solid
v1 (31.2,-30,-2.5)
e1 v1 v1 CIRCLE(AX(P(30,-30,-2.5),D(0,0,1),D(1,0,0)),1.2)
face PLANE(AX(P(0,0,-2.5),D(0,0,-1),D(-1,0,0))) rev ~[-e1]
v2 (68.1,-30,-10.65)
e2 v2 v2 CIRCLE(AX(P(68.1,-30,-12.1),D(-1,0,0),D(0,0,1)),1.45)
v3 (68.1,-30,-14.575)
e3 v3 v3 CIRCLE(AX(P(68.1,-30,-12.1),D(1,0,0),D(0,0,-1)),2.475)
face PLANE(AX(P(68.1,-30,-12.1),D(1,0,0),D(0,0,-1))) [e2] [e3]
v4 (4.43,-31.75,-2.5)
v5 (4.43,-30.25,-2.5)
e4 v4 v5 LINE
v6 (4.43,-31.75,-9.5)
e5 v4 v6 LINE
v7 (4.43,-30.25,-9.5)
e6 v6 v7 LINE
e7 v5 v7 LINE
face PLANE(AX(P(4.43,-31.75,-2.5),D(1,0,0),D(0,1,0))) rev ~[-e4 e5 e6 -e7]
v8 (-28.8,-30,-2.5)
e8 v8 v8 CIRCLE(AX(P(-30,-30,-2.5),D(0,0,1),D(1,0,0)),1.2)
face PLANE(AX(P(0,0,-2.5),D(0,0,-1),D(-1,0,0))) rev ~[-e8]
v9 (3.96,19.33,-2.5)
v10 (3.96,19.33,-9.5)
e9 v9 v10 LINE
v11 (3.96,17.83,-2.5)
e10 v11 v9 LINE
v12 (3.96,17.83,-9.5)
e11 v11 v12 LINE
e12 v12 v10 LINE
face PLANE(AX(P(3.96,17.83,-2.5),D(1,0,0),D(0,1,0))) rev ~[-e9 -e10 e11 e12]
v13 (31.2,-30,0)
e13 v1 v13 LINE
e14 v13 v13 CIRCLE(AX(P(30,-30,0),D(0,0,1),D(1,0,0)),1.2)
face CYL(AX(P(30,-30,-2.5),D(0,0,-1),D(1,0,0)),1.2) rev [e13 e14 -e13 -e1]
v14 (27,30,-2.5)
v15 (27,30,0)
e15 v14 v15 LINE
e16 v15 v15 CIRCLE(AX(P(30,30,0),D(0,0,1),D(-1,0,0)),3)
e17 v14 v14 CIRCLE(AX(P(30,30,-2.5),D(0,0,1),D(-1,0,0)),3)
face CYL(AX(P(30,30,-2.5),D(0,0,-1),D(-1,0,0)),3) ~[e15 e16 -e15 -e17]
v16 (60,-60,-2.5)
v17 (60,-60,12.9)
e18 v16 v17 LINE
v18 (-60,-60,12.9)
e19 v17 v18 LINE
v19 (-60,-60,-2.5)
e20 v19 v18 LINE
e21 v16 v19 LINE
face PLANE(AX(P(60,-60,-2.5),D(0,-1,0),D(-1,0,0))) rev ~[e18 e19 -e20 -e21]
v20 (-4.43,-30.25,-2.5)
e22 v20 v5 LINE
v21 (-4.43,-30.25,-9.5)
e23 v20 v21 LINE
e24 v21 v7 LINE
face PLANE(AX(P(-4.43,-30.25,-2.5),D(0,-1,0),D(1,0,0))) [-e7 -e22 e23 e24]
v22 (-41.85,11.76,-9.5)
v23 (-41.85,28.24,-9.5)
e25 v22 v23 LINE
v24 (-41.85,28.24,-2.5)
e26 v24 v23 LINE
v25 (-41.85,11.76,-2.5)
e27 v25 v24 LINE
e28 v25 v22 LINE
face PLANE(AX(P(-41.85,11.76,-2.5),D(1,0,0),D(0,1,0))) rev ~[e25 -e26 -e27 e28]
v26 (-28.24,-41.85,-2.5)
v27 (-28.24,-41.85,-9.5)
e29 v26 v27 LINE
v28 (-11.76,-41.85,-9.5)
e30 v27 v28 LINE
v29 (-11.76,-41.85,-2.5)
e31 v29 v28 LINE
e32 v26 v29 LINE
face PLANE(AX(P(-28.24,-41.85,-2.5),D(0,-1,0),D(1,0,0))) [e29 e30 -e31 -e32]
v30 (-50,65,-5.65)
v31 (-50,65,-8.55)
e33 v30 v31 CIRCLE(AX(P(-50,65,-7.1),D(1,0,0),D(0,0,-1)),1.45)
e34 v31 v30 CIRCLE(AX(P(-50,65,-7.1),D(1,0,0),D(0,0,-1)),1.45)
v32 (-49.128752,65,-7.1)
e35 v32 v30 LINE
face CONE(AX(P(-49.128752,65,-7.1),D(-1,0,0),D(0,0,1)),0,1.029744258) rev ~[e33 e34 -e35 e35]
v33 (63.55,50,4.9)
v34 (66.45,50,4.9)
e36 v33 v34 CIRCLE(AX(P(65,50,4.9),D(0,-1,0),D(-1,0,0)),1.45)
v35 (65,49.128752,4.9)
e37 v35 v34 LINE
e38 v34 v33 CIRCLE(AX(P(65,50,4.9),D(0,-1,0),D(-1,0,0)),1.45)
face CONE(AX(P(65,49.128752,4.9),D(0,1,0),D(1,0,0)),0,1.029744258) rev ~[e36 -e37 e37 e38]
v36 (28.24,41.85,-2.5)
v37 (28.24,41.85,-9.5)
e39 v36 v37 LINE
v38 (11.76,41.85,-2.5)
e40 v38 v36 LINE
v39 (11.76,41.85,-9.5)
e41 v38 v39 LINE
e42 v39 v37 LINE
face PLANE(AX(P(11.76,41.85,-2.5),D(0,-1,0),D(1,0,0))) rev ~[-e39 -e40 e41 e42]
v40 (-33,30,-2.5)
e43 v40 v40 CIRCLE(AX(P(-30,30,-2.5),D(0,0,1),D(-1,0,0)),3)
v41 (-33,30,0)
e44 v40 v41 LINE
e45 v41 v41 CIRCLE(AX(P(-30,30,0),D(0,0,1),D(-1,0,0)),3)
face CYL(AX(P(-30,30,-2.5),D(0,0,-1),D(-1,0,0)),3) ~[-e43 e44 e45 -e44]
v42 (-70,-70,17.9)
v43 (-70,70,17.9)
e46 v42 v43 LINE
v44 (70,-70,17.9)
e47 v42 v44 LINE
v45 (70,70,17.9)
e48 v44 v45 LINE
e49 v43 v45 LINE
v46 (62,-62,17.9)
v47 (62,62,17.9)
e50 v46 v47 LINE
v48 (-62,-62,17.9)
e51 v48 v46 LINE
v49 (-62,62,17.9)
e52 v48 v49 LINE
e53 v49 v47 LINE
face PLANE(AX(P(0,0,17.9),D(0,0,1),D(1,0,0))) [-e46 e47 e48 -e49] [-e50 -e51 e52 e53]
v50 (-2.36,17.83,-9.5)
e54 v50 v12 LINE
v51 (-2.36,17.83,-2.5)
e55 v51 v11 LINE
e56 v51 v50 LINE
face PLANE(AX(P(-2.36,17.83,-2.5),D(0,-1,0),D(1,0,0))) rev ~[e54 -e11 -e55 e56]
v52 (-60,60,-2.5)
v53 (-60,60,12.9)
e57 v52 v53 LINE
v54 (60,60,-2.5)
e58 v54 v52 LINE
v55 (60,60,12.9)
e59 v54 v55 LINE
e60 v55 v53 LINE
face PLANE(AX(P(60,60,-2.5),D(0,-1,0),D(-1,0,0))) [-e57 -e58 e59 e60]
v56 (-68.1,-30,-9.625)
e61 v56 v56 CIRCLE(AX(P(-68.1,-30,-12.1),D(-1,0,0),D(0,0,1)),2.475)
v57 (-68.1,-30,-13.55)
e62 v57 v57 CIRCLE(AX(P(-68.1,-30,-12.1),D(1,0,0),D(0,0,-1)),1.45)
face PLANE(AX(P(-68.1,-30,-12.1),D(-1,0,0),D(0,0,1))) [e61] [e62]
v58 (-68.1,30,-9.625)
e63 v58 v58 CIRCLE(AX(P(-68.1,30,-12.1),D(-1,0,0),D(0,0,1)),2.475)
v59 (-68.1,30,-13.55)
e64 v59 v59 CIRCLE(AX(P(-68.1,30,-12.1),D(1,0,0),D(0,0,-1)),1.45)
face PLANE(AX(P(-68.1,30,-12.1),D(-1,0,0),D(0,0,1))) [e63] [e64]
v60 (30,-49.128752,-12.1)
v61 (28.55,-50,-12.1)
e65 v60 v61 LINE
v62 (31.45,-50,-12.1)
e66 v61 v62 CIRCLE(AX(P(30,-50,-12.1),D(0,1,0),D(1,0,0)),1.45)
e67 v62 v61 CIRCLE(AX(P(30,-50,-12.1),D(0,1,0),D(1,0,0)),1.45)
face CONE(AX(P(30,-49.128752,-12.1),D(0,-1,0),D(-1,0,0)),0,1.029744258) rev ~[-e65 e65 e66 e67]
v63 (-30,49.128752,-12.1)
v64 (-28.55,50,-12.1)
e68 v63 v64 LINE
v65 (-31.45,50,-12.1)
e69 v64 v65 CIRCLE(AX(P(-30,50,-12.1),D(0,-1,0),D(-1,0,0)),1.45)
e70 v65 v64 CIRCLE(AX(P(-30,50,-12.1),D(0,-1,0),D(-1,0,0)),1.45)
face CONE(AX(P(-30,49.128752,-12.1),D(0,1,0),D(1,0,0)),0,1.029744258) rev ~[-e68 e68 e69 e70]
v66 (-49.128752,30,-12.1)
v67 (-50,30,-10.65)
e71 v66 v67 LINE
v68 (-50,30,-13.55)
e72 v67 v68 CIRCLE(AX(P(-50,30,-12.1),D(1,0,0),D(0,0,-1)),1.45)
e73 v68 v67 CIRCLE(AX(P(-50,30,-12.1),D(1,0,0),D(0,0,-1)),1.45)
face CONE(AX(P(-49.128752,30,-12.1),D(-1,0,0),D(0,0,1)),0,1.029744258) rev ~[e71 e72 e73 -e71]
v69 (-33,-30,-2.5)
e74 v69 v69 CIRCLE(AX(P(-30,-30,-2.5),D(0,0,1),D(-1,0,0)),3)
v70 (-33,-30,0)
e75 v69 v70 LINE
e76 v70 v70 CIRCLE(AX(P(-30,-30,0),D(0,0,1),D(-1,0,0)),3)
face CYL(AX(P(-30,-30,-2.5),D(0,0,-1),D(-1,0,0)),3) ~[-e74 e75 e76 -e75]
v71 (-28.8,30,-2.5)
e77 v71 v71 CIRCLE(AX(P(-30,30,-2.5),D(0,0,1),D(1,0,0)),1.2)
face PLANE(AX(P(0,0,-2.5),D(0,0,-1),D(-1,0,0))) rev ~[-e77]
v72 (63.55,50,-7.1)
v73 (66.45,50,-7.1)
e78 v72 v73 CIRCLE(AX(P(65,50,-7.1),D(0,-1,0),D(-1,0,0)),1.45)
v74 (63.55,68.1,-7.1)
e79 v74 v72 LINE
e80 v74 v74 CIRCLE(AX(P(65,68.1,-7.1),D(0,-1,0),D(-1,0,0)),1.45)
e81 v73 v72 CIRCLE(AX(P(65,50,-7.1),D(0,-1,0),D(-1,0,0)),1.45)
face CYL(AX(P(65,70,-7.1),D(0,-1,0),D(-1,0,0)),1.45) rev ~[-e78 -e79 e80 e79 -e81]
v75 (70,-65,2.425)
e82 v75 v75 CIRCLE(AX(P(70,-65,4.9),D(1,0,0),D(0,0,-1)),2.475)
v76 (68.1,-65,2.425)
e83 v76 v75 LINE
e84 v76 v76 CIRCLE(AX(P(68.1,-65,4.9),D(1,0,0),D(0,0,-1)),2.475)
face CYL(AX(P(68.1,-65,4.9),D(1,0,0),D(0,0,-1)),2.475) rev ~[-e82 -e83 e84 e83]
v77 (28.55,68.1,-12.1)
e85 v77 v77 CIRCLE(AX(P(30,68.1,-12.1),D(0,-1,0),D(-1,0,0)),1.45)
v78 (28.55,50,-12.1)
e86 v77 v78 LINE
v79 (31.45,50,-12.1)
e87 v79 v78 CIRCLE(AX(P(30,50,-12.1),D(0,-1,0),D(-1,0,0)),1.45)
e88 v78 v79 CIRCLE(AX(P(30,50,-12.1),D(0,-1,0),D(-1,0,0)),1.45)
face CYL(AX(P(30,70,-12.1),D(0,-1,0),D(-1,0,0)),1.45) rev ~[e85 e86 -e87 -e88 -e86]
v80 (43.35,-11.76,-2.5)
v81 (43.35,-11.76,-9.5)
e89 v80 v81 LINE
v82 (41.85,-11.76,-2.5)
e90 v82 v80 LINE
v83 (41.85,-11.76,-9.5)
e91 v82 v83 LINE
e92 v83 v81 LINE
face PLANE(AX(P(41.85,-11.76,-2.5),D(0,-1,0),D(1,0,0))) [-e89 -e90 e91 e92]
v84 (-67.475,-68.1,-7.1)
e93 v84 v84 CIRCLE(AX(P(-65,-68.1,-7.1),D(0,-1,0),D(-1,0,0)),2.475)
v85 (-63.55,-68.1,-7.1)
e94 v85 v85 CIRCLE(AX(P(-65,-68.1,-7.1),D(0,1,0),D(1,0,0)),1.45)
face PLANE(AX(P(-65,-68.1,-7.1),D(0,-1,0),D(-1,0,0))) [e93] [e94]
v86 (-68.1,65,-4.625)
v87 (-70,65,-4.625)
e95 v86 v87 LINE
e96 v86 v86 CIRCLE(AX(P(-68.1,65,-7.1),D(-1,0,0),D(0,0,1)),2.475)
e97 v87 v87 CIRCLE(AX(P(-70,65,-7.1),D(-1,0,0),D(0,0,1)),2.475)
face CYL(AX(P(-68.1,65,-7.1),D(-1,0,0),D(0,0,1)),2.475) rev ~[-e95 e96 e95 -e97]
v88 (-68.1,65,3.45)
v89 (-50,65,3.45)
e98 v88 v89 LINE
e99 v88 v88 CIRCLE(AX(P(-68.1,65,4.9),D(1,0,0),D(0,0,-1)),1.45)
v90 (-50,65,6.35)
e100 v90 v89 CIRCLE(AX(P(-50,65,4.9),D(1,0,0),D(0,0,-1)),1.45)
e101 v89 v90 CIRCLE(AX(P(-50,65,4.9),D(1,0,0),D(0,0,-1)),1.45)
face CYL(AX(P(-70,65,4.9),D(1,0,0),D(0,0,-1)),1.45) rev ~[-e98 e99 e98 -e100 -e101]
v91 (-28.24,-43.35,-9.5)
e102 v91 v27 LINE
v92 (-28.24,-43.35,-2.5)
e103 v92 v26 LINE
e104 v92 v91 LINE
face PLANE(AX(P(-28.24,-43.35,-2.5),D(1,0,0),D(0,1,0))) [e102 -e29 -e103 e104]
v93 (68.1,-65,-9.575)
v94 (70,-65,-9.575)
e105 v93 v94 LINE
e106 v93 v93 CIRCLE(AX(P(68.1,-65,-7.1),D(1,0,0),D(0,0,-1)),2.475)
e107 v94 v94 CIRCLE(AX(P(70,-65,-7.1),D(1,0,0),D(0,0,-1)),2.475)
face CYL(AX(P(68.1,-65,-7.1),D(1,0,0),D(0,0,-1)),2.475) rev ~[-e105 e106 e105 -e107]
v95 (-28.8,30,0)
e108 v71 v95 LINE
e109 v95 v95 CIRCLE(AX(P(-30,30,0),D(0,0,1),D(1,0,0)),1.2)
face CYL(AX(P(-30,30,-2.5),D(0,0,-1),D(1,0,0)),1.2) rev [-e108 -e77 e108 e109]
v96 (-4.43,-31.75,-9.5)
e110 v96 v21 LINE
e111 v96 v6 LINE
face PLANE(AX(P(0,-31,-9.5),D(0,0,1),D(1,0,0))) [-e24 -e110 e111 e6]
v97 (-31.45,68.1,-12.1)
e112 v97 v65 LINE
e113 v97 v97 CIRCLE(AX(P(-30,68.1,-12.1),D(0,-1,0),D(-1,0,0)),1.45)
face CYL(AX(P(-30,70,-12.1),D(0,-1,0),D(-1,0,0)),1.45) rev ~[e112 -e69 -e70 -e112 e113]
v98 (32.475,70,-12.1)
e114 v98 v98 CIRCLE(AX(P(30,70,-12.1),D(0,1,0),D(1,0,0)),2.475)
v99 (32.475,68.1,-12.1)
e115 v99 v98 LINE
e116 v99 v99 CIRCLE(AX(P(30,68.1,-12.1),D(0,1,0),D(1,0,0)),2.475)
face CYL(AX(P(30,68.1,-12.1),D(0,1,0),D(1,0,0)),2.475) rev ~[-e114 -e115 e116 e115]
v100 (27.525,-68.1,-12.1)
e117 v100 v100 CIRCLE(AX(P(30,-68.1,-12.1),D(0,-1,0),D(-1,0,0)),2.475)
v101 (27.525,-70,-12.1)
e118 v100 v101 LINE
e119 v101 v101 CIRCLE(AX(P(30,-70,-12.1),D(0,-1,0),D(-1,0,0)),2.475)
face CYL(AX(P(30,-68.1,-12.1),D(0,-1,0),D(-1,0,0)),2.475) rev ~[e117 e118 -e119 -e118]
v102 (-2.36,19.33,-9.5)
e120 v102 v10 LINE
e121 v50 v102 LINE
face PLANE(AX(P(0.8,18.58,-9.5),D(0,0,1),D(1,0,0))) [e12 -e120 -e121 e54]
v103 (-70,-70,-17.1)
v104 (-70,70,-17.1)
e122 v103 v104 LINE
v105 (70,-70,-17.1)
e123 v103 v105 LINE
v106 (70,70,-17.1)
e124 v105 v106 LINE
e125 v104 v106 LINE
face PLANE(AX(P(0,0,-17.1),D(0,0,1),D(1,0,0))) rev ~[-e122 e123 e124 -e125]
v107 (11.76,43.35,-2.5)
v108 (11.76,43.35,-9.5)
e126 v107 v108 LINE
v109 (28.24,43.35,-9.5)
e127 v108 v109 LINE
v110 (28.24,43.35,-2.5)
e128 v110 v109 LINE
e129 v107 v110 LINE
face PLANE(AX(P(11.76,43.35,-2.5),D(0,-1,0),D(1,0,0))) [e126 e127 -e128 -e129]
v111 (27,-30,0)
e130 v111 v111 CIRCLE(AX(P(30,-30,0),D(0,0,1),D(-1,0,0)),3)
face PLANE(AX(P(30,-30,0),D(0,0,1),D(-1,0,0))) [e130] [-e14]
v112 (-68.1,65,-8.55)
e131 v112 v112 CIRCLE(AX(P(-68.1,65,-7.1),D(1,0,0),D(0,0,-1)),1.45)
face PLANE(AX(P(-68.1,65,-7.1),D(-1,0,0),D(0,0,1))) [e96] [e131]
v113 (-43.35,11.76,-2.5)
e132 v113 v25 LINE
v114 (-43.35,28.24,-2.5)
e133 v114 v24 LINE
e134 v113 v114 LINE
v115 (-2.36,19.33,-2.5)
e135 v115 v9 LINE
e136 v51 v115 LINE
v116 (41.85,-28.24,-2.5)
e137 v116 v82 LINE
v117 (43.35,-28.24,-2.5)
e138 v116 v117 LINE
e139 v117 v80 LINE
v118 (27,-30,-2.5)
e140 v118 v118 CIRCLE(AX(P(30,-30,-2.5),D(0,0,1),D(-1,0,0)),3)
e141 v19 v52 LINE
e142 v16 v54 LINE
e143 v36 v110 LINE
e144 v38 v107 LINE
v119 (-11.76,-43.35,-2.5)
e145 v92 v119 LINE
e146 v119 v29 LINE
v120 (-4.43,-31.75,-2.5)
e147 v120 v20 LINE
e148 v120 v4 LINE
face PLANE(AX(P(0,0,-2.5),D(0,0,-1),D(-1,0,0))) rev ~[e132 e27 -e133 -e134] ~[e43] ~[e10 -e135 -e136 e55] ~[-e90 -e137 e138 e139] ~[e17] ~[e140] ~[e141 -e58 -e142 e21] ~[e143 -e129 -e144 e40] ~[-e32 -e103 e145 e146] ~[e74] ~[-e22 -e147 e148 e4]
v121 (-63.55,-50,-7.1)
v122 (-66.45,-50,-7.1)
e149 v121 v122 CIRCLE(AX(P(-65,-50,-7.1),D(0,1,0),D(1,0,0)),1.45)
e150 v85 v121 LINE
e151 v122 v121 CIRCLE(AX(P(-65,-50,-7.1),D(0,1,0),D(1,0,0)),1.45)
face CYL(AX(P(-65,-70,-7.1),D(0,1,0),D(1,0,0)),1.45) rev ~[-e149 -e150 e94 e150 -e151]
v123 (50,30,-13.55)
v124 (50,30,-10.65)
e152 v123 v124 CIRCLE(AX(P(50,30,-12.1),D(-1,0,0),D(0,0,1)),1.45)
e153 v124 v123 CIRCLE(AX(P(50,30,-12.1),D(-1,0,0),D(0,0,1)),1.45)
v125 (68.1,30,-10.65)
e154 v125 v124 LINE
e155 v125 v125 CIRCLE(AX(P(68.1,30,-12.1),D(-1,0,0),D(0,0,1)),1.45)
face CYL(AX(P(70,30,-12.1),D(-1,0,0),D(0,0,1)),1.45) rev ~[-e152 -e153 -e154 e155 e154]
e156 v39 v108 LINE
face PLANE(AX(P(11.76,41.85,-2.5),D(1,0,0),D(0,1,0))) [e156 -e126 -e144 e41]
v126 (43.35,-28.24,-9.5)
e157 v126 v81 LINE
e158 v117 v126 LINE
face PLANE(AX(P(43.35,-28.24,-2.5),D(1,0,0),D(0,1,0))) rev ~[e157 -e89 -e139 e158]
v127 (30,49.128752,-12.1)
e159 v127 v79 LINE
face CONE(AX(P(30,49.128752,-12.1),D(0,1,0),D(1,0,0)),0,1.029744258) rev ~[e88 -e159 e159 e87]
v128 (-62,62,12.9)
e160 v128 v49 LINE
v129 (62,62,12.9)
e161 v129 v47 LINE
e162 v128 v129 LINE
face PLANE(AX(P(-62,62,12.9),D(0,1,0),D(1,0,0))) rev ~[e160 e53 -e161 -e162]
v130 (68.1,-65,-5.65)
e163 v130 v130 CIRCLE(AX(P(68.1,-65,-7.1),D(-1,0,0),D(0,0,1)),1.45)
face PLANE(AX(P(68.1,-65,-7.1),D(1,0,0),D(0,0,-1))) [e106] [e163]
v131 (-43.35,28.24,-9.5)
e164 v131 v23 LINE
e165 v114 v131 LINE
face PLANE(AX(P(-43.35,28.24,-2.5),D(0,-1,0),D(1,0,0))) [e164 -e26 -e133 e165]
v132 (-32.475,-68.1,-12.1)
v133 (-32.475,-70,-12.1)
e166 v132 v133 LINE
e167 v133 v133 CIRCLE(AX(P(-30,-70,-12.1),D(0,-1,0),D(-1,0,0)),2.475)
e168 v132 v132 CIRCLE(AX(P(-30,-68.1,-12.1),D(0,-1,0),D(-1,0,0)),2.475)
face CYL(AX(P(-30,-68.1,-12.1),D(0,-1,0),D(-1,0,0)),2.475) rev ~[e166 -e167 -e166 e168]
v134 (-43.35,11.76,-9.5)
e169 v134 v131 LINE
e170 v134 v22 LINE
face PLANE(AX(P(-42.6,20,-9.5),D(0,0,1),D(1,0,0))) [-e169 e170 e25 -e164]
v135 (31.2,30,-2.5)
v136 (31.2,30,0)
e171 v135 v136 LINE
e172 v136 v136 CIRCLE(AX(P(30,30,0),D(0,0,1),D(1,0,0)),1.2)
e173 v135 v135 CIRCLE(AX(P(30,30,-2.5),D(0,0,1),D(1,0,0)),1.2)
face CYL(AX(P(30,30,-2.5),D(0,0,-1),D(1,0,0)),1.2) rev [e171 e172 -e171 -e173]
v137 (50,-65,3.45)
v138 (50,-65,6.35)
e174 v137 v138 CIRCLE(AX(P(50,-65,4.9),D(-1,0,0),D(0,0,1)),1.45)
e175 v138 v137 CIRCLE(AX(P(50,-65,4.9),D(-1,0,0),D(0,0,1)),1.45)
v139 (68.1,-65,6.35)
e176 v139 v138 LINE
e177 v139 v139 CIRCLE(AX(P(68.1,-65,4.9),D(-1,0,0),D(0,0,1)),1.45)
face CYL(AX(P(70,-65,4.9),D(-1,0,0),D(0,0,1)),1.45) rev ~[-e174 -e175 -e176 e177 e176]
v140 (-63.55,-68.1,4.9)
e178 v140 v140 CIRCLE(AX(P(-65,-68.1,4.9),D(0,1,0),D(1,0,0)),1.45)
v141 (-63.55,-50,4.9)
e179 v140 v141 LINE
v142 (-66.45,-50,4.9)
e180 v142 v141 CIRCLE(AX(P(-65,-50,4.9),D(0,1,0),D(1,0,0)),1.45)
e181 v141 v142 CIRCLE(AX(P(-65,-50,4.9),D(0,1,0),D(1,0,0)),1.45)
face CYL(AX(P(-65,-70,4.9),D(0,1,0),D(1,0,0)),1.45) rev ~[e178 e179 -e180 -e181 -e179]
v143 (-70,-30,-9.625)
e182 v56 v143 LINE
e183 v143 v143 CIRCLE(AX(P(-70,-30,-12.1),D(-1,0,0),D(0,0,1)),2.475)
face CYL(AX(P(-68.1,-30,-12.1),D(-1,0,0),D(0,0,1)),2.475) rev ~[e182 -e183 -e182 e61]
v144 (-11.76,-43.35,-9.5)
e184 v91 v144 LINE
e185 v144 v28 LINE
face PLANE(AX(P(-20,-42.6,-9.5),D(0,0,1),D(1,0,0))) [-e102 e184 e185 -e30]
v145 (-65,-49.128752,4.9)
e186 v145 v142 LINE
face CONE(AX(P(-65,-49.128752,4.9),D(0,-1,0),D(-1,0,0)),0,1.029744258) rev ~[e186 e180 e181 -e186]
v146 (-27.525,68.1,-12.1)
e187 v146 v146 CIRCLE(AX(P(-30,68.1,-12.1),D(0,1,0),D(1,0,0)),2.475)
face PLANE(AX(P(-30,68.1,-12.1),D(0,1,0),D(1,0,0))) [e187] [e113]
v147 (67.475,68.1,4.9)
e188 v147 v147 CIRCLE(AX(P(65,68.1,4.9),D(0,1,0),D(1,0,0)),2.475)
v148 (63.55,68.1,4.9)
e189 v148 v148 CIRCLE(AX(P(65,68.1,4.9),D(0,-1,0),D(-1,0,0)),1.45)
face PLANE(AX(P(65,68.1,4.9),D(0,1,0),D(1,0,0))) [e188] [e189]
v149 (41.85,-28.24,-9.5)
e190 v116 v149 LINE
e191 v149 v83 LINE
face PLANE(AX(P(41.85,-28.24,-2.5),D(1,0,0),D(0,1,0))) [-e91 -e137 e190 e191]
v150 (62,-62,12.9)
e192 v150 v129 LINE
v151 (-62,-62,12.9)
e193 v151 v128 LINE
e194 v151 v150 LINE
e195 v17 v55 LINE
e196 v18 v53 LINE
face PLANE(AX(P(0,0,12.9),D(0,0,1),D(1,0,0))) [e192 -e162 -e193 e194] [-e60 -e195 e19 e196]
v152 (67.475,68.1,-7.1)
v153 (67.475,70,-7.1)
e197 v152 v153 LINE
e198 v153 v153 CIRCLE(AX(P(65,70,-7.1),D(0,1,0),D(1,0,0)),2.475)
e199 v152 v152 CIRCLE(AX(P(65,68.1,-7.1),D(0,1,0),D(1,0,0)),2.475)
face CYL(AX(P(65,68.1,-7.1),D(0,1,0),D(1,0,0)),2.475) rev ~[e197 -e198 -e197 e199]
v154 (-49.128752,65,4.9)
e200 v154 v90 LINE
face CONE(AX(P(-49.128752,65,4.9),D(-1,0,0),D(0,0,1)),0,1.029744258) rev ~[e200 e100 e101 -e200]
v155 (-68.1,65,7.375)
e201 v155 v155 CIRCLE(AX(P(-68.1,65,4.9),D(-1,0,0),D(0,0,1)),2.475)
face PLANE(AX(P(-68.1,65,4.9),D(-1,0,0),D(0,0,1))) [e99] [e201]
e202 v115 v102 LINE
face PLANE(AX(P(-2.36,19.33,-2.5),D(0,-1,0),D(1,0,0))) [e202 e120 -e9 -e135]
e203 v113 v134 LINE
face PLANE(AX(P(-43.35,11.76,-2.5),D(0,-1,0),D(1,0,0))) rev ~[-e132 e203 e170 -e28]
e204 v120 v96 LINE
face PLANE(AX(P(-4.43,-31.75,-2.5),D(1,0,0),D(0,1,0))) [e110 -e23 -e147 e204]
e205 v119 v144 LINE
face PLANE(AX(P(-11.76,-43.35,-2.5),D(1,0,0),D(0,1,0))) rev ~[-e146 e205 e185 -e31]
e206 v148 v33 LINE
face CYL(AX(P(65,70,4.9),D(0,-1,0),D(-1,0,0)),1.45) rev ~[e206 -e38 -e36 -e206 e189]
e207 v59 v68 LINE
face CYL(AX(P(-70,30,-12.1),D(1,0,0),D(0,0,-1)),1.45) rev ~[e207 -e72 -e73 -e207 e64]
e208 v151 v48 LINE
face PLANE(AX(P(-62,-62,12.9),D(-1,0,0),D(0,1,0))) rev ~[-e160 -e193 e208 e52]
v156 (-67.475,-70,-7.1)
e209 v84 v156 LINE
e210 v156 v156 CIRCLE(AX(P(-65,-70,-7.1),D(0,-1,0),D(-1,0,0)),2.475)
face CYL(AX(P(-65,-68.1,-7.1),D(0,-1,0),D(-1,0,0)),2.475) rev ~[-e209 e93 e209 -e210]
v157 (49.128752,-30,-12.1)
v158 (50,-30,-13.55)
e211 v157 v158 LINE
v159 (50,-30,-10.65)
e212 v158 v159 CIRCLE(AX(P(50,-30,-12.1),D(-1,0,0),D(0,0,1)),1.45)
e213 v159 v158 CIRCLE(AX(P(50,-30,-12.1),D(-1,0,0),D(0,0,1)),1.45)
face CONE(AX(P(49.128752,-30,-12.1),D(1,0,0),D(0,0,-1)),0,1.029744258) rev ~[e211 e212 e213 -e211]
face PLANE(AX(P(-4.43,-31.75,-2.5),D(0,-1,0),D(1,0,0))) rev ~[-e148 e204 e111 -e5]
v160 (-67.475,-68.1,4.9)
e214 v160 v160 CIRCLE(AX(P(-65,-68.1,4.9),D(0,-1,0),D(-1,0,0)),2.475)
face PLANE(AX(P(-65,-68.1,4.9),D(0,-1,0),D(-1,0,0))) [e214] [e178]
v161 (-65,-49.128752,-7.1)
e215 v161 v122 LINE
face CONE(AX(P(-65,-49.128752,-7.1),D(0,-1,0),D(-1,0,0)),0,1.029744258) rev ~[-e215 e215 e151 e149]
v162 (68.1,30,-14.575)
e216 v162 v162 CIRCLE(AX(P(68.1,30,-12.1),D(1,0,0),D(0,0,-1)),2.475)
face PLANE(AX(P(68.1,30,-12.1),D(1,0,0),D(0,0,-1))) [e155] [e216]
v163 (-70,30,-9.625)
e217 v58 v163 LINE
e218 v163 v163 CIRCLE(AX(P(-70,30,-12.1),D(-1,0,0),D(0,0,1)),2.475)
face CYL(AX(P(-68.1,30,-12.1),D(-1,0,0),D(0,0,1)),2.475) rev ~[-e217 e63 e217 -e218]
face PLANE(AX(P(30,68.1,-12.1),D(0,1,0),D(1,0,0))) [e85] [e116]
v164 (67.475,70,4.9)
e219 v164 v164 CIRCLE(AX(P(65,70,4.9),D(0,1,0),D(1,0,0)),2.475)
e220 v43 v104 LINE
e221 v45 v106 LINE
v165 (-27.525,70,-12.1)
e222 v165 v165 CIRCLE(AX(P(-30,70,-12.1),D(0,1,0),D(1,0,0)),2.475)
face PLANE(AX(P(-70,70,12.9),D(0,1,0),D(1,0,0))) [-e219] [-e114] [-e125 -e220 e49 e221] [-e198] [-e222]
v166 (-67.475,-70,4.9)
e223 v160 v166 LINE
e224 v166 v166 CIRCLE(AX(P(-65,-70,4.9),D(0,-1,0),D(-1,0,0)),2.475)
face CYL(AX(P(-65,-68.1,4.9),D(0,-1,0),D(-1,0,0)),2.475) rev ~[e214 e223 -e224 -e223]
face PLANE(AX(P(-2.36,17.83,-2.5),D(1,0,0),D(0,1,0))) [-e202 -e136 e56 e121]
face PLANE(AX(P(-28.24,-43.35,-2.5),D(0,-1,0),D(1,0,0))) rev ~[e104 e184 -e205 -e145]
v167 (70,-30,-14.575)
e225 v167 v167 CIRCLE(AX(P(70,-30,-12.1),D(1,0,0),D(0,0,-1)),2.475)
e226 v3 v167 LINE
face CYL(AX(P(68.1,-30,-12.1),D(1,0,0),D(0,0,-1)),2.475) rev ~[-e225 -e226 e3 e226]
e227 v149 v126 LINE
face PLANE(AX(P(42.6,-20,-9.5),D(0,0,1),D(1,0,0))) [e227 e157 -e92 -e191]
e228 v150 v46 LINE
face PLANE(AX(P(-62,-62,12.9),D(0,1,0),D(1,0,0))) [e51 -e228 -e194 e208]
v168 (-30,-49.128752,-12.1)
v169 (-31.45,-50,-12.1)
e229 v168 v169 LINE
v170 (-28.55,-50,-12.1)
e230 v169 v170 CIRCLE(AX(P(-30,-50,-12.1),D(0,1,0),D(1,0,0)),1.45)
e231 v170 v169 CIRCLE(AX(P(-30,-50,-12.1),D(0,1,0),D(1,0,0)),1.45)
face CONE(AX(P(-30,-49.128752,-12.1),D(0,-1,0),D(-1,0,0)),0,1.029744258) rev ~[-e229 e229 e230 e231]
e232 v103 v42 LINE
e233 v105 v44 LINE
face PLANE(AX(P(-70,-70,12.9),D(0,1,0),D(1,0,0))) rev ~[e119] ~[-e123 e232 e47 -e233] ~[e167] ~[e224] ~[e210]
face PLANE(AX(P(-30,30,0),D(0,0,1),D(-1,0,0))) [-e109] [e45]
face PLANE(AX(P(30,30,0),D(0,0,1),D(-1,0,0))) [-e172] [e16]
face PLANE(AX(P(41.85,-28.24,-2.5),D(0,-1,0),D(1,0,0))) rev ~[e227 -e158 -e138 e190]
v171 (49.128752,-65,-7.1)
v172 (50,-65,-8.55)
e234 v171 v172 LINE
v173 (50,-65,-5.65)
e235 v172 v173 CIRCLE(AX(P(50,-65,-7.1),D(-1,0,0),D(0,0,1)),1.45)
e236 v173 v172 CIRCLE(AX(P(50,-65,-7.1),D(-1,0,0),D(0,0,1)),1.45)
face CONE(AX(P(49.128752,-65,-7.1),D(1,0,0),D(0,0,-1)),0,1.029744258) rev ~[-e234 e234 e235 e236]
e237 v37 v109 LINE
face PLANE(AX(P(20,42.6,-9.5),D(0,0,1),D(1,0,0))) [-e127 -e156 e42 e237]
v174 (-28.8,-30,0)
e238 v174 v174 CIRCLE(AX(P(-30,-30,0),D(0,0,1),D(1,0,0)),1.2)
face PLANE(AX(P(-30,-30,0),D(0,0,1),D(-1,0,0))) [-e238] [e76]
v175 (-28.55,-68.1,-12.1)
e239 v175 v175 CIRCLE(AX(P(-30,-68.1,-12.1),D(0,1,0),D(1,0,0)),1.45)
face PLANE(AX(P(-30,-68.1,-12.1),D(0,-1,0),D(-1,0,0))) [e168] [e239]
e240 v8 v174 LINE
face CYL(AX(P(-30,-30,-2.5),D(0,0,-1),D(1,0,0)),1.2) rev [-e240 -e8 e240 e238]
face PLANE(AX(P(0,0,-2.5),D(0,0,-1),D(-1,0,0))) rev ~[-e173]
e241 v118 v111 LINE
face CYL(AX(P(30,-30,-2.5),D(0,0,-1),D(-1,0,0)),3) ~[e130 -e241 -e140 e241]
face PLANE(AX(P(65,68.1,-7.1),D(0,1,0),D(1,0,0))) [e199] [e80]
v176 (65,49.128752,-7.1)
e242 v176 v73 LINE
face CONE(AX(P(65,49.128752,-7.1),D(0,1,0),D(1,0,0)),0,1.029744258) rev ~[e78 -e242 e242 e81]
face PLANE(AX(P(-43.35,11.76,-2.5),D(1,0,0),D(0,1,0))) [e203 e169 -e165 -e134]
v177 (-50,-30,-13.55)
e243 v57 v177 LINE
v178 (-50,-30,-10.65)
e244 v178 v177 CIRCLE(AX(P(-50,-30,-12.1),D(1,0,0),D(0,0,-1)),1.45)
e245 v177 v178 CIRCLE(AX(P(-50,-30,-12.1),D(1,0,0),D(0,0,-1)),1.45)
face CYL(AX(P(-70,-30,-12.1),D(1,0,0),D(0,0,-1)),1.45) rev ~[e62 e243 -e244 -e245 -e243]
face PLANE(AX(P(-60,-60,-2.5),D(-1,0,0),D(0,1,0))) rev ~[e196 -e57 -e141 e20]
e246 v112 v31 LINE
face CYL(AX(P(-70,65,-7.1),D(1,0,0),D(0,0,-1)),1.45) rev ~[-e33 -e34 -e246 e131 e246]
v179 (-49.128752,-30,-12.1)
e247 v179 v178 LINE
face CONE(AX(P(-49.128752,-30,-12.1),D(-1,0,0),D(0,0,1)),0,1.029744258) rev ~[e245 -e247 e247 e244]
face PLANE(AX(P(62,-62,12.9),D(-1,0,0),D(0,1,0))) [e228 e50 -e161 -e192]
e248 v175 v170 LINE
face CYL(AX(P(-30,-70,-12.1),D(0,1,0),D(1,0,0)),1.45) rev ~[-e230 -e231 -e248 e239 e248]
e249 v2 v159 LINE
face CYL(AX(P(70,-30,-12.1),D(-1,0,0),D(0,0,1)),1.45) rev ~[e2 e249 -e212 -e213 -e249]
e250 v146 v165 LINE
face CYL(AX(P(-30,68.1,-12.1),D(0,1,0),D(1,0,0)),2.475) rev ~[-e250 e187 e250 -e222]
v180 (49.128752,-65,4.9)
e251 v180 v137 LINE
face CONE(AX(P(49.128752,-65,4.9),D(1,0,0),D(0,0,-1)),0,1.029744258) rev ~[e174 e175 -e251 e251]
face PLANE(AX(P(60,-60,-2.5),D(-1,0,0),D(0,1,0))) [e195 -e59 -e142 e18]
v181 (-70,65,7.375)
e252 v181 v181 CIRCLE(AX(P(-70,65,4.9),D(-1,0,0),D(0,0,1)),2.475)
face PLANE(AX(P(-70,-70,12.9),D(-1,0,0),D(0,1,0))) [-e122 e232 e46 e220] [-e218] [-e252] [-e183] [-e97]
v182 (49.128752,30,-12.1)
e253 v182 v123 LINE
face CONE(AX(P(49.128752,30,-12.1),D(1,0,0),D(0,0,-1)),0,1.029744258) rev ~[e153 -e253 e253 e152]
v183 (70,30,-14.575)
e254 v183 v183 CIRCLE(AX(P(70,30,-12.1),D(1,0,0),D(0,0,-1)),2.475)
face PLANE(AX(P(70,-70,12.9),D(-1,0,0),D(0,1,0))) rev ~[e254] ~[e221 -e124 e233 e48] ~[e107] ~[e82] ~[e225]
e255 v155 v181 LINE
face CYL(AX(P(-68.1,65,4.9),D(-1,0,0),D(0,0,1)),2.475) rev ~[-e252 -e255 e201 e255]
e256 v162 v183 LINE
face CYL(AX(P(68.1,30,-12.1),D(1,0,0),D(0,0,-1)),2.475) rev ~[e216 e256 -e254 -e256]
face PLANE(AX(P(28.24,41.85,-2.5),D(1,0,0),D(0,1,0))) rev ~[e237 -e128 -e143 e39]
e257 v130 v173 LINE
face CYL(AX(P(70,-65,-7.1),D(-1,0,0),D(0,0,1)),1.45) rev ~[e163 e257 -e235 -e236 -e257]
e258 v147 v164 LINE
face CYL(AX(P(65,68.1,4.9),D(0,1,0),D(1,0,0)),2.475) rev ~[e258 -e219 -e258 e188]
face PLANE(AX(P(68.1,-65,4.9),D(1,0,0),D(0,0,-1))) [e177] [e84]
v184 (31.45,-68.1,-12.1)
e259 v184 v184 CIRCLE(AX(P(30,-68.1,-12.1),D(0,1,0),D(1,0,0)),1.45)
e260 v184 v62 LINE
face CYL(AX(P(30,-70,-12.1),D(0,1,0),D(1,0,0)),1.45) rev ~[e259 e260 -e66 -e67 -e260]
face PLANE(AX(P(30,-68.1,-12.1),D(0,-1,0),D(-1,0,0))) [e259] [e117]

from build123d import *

# Parameters (mm, degrees)
SKETCH_1_W                     = 100
SKETCH_1_H                     = 100
EXTRUDE_1_DEPTH                = 1.6
SKETCH_4_W                     = 17.78
SKETCH_4_H                     = 2.5
SKETCH_4_W_2                   = 2.5
SKETCH_4_H_2                   = 17.78
EXTRUDE_2_DEPTH                = 2.5
SKETCH_5_W                     = 0.64
SKETCH_5_H                     = 0.64
EXTRUDE_3_DEPTH                = 6.1
SKETCH_6_W                     = 3.48
SKETCH_6_H                     = 3.48
EXTRUDE_4_DEPTH                = 2
SKETCH_7_W                     = 2
SKETCH_7_H                     = 4
SKETCH_7_W_2                   = 4
SKETCH_7_H_2                   = 2
EXTRUDE_5_DEPTH                = 1.1
SKETCH_8_W                     = 15.2
SKETCH_8_H                     = 7.4
EXTRUDE_6_DEPTH                = 2.65
SKETCH_9_W                     = 7.62
SKETCH_9_H                     = 2.5
EXTRUDE_7_DEPTH                = 2.5
SKETCH_11_W                    = 0.64
SKETCH_11_H                    = 0.64
EXTRUDE_8_DEPTH                = 6.1
SKETCH_42_W                    = 10.16
SKETCH_42_H                    = 2.5
EXTRUDE_14_DEPTH               = 2.5
SKETCH_43_W                    = 0.64
SKETCH_43_H                    = 0.64
EXTRUDE_15_DEPTH               = 6.1
SKETCH_15_W                    = 120
SKETCH_15_H                    = 120
EXTRUDE_11_DEPTH               = 15.4
SKETCH_16_W                    = 140
SKETCH_16_H                    = 140
EXTRUDE_12_DEPTH               = 30
SKETCH_17_W                    = 140
SKETCH_17_H                    = 140
SKETCH_17_W_2                  = 124
SKETCH_17_H_2                  = 124
EXTRUDE_13_DEPTH               = 5
SKETCH_18_W                    = 1.5
SKETCH_18_H                    = 16.48
SKETCH_18_W_2                  = 16.48
SKETCH_18_H_2                  = 1.5
SKETCH_18_W_3                  = 6.32
SKETCH_18_W_4                  = 8.86
CUT_EXTRUDE_1_DEPTH            = 7
HOLE_WIZARD_M2_5_1_D           = 2.9
HOLE_WIZARD_M2_5_1_DEPTH       = 20
HOLE_WIZARD_M2_5_1_CBORE_D     = 4.95
HOLE_WIZARD_M2_5_1_CBORE_DEPTH = 1.9
HOLE_WIZARD_M2_5_1_TIP         = 0.871247898
HOLE_WIZARD_M2_5_2_D           = 2.9
HOLE_WIZARD_M2_5_2_DEPTH       = 20
HOLE_WIZARD_M2_5_2_CBORE_D     = 4.95
HOLE_WIZARD_M2_5_2_CBORE_DEPTH = 1.9
HOLE_WIZARD_M2_5_2_TIP         = 0.871247898
HOLE_WIZARD_M2_5_3_D           = 2.9
HOLE_WIZARD_M2_5_3_DEPTH       = 20
HOLE_WIZARD_M2_5_3_CBORE_D     = 4.95
HOLE_WIZARD_M2_5_3_CBORE_DEPTH = 1.9
HOLE_WIZARD_M2_5_3_TIP         = 0.871247898
HOLE_WIZARD_M2_5_4_D           = 2.9
HOLE_WIZARD_M2_5_4_DEPTH       = 20
HOLE_WIZARD_M2_5_4_CBORE_D     = 4.95
HOLE_WIZARD_M2_5_4_CBORE_DEPTH = 1.9
HOLE_WIZARD_M2_5_4_TIP         = 0.871247898
HOLE_WIZARD_M2_5_5_D           = 2.9
HOLE_WIZARD_M2_5_5_DEPTH       = 20
HOLE_WIZARD_M2_5_5_CBORE_D     = 4.95
HOLE_WIZARD_M2_5_5_CBORE_DEPTH = 1.9
HOLE_WIZARD_M2_5_5_TIP         = 0.871247898
HOLE_WIZARD_M2_5_6_D           = 2.9
HOLE_WIZARD_M2_5_6_DEPTH       = 20
HOLE_WIZARD_M2_5_6_CBORE_D     = 4.95
HOLE_WIZARD_M2_5_6_CBORE_DEPTH = 1.9
HOLE_WIZARD_M2_5_6_TIP         = 0.871247898
HOLE_WIZARD_M2_5_7_D           = 2.9
HOLE_WIZARD_M2_5_7_DEPTH       = 20
HOLE_WIZARD_M2_5_7_CBORE_D     = 4.95
HOLE_WIZARD_M2_5_7_CBORE_DEPTH = 1.9
HOLE_WIZARD_M2_5_7_TIP         = 0.871247898
HOLE_WIZARD_M2_5_8_D           = 2.9
HOLE_WIZARD_M2_5_8_DEPTH       = 20
HOLE_WIZARD_M2_5_8_CBORE_D     = 4.95
HOLE_WIZARD_M2_5_8_CBORE_DEPTH = 1.9
HOLE_WIZARD_M2_5_8_TIP         = 0.871247898
SKETCH_44_R                    = 3
SKETCH_44_R_2                  = 1.2
EXTRUDE_16_DEPTH               = 2.5


with BuildPart() as part:
    # ｽｹｯﾁ1 → ﾎﾞｽ - 押し出し1 (new body)
    with BuildSketch(Plane.XY):
        Rectangle(SKETCH_1_W, SKETCH_1_H)
    extrude(amount=EXTRUDE_1_DEPTH)

    # ｽｹｯﾁ4 → ﾎﾞｽ - 押し出し2 (add)
    with BuildSketch(Plane(origin=(0, 0, 0), x_dir=(-1, 0, 0), z_dir=(0, 0, -1))):
        with Locations((20, -42.6)):
            Rectangle(SKETCH_4_W, SKETCH_4_H)
        with Locations((-42.6, -20)):
            Rectangle(SKETCH_4_W_2, SKETCH_4_H_2)
        with Locations((-20, 42.6)):
            Rectangle(SKETCH_4_W, SKETCH_4_H)
        with Locations((42.6, 20)):
            Rectangle(SKETCH_4_W_2, SKETCH_4_H_2)
    extrude(amount=EXTRUDE_2_DEPTH)

    # ｽｹｯﾁ5 → ﾎﾞｽ - 押し出し3 (add)
    with BuildSketch(Plane(origin=(0, 0, -2.5), x_dir=(-1, 0, 0), z_dir=(0, 0, -1))):
        with Locations((-20, 42.6)):
            Rectangle(SKETCH_5_W, SKETCH_5_H)
        with Locations((-17.46, 42.6)):
            Rectangle(SKETCH_5_W, SKETCH_5_H)
        with Locations((-14.92, 42.6)):
            Rectangle(SKETCH_5_W, SKETCH_5_H)
        with Locations((-12.38, 42.6)):
            Rectangle(SKETCH_5_W, SKETCH_5_H)
        with Locations((-22.54, 42.6)):
            Rectangle(SKETCH_5_W, SKETCH_5_H)
        with Locations((-25.08, 42.6)):
            Rectangle(SKETCH_5_W, SKETCH_5_H)
        with Locations((-27.62, 42.6)):
            Rectangle(SKETCH_5_W, SKETCH_5_H)
        with Locations((-42.6, -20)):
            Rectangle(SKETCH_5_W, SKETCH_5_H)
        with Locations((-42.6, -22.54)):
            Rectangle(SKETCH_5_W, SKETCH_5_H)
        with Locations((42.6, 20)):
            Rectangle(SKETCH_5_W, SKETCH_5_H)
        with Locations((-42.6, -25.08)):
            Rectangle(SKETCH_5_W, SKETCH_5_H)
        with Locations((-42.6, -27.62)):
            Rectangle(SKETCH_5_W, SKETCH_5_H)
        with Locations((-42.6, -17.46)):
            Rectangle(SKETCH_5_W, SKETCH_5_H)
        with Locations((-42.6, -14.92)):
            Rectangle(SKETCH_5_W, SKETCH_5_H)
        with Locations((-42.6, -12.38)):
            Rectangle(SKETCH_5_W, SKETCH_5_H)
        with Locations((42.6, 17.46)):
            Rectangle(SKETCH_5_W, SKETCH_5_H)
        with Locations((42.6, 14.92)):
            Rectangle(SKETCH_5_W, SKETCH_5_H)
        with Locations((42.6, 12.38)):
            Rectangle(SKETCH_5_W, SKETCH_5_H)
        with Locations((42.6, 22.54)):
            Rectangle(SKETCH_5_W, SKETCH_5_H)
        with Locations((42.6, 25.08)):
            Rectangle(SKETCH_5_W, SKETCH_5_H)
        with Locations((42.6, 27.62)):
            Rectangle(SKETCH_5_W, SKETCH_5_H)
        with Locations((20, -42.6)):
            Rectangle(SKETCH_5_W, SKETCH_5_H)
        with Locations((17.46, -42.6)):
            Rectangle(SKETCH_5_W, SKETCH_5_H)
        with Locations((14.92, -42.6)):
            Rectangle(SKETCH_5_W, SKETCH_5_H)
        with Locations((12.38, -42.6)):
            Rectangle(SKETCH_5_W, SKETCH_5_H)
        with Locations((22.54, -42.6)):
            Rectangle(SKETCH_5_W, SKETCH_5_H)
        with Locations((25.08, -42.6)):
            Rectangle(SKETCH_5_W, SKETCH_5_H)
        with Locations((27.62, -42.6)):
            Rectangle(SKETCH_5_W, SKETCH_5_H)
    extrude(amount=EXTRUDE_3_DEPTH)

    # ｽｹｯﾁ6 → ﾎﾞｽ - 押し出し4 (add)
    with BuildSketch(Plane.XY.offset(1.6)):
        with Locations((-35, -35)):
            Rectangle(SKETCH_6_W, SKETCH_6_H)
        with Locations((-35, 35)):
            Rectangle(SKETCH_6_W, SKETCH_6_H)
        with Locations((35, -35)):
            Rectangle(SKETCH_6_W, SKETCH_6_H)
        with Locations((35, 35)):
            Rectangle(SKETCH_6_W, SKETCH_6_H)
    extrude(amount=EXTRUDE_4_DEPTH)

    # ｽｹｯﾁ7 → ﾎﾞｽ - 押し出し5 (add)
    with BuildSketch(Plane.XY.offset(1.6)):
        with Locations((-37.5, 0)):
            Rectangle(SKETCH_7_W, SKETCH_7_H)
        with Locations((37.5, 0)):
            Rectangle(SKETCH_7_W, SKETCH_7_H)
        with Locations((0, 37.5)):
            Rectangle(SKETCH_7_W_2, SKETCH_7_H_2)
        with Locations((0, -37.5)):
            Rectangle(SKETCH_7_W_2, SKETCH_7_H_2)
        Rectangle(SKETCH_7_W, SKETCH_7_H)
    extrude(amount=EXTRUDE_5_DEPTH)

    # ｽｹｯﾁ8 → ﾎﾞｽ - 押し出し6 (add)
    with BuildSketch(Plane.XY.offset(1.6)):
        with Locations((0, -17)):
            Rectangle(SKETCH_8_W, SKETCH_8_H)
    extrude(amount=EXTRUDE_6_DEPTH)

    # ｽｹｯﾁ9 → ﾎﾞｽ - 押し出し7 (add)
    with BuildSketch(Plane(origin=(0, 0, 0), x_dir=(-1, 0, 0), z_dir=(0, 0, -1))):
        with Locations((-0.8, 18.58)):
            Rectangle(SKETCH_9_W, SKETCH_9_H)
    extrude(amount=EXTRUDE_7_DEPTH)

    # ｽｹｯﾁ11 → ﾎﾞｽ - 押し出し8 (add)
    with BuildSketch(Plane(origin=(0, 0, -2.5), x_dir=(-1, 0, 0), z_dir=(0, 0, -1))):
        with Locations((-0.8, 18.58)):
            Rectangle(SKETCH_11_W, SKETCH_11_H)
        with Locations((-3.34, 18.58)):
            Rectangle(SKETCH_11_W, SKETCH_11_H)
        with Locations((1.74, 18.58)):
            Rectangle(SKETCH_11_W, SKETCH_11_H)
    extrude(amount=EXTRUDE_8_DEPTH)

    # ｽｹｯﾁ42 → ﾎﾞｽ - 押し出し14 (add)
    with BuildSketch(Plane(origin=(0, 0, 0), x_dir=(-1, 0, 0), z_dir=(0, 0, -1))):
        with Locations((0, -31)):
            Rectangle(SKETCH_42_W, SKETCH_42_H)
    extrude(amount=EXTRUDE_14_DEPTH)

    # ｽｹｯﾁ43 → ﾎﾞｽ - 押し出し15 (add)
    with BuildSketch(Plane(origin=(0, 0, -2.5), x_dir=(-1, 0, 0), z_dir=(0, 0, -1))):
        with Locations((-3.81, -31)):
            Rectangle(SKETCH_43_W, SKETCH_43_H)
        with Locations((-1.27, -31)):
            Rectangle(SKETCH_43_W, SKETCH_43_H)
        with Locations((1.27, -31)):
            Rectangle(SKETCH_43_W, SKETCH_43_H)
        with Locations((3.81, -31)):
            Rectangle(SKETCH_43_W, SKETCH_43_H)
    extrude(amount=EXTRUDE_15_DEPTH)


with BuildPart() as body_2:
    # ｽｹｯﾁ15 → ﾎﾞｽ - 押し出し11 (new body)
    with BuildSketch(Plane(origin=(0, 0, -2.5), x_dir=(-1, 0, 0), z_dir=(0, 0, -1))):
        Rectangle(SKETCH_15_W, SKETCH_15_H)
    extrude(amount=-EXTRUDE_11_DEPTH)


with BuildPart() as body_3:
    # ｽｹｯﾁ16 → ﾎﾞｽ - 押し出し12 (new body)
    with BuildSketch(Plane.XY.offset(12.9)):
        Rectangle(SKETCH_16_W, SKETCH_16_H)
    extrude(amount=-EXTRUDE_12_DEPTH)

    # Combine 1: cut part, body 2
    add(part.part, mode=Mode.SUBTRACT)
    add(body_2.part, mode=Mode.SUBTRACT)

    # ｽｹｯﾁ17 → ﾎﾞｽ - 押し出し13 (add)
    with BuildSketch(Plane.XY.offset(12.9)):
        Rectangle(SKETCH_17_W, SKETCH_17_H)
        Rectangle(SKETCH_17_W_2, SKETCH_17_H_2, mode=Mode.SUBTRACT)
    extrude(amount=EXTRUDE_13_DEPTH)

    # ｽｹｯﾁ18 → ｶｯﾄ - 押し出し1 (cut)
    with BuildSketch(Plane.XY.offset(-2.5)):
        with Locations((-42.6, 20)):
            Rectangle(SKETCH_18_W, SKETCH_18_H)
        with Locations((-20, -42.6)):
            Rectangle(SKETCH_18_W_2, SKETCH_18_H_2)
        with Locations((42.6, -20)):
            Rectangle(SKETCH_18_W, SKETCH_18_H)
        with Locations((20, 42.6)):
            Rectangle(SKETCH_18_W_2, SKETCH_18_H_2)
        with Locations((0.8, 18.58)):
            Rectangle(SKETCH_18_W_3, SKETCH_18_H_2)
        with Locations((0, -31)):
            Rectangle(SKETCH_18_W_4, SKETCH_18_H_2)
    extrude(amount=-CUT_EXTRUDE_1_DEPTH, mode=Mode.SUBTRACT)

    # M2.5 丸平ねじ用座ぐり穴1
    with Locations(Plane(origin=(0, -70, 0), x_dir=(-1, 0, 0), z_dir=(0, -1, 0))):
        with Locations((65, 7.1), (65, -4.9)):
            CounterBoreHole(HOLE_WIZARD_M2_5_1_D / 2, HOLE_WIZARD_M2_5_1_CBORE_D / 2, HOLE_WIZARD_M2_5_1_CBORE_DEPTH, depth=HOLE_WIZARD_M2_5_1_DEPTH)
            with Locations((0, 0, -(HOLE_WIZARD_M2_5_1_DEPTH + HOLE_WIZARD_M2_5_1_TIP / 2))):  # 118° drill point
                Cone(0, HOLE_WIZARD_M2_5_1_D / 2, HOLE_WIZARD_M2_5_1_TIP, mode=Mode.SUBTRACT)

    # M2.5 丸平ねじ用座ぐり穴2
    with Locations(Plane.ZY.offset(70)):
        with Locations((4.9, 65), (-7.1, 65)):
            CounterBoreHole(HOLE_WIZARD_M2_5_2_D / 2, HOLE_WIZARD_M2_5_2_CBORE_D / 2, HOLE_WIZARD_M2_5_2_CBORE_DEPTH, depth=HOLE_WIZARD_M2_5_2_DEPTH)
            with Locations((0, 0, -(HOLE_WIZARD_M2_5_2_DEPTH + HOLE_WIZARD_M2_5_2_TIP / 2))):  # 118° drill point
                Cone(0, HOLE_WIZARD_M2_5_2_D / 2, HOLE_WIZARD_M2_5_2_TIP, mode=Mode.SUBTRACT)

    # M2.5 丸平ねじ用座ぐり穴3
    with Locations(Plane(origin=(0, 70, 0), x_dir=(1, 0, 0), z_dir=(0, 1, 0))):
        with Locations((65, 7.1), (65, -4.9)):
            CounterBoreHole(HOLE_WIZARD_M2_5_3_D / 2, HOLE_WIZARD_M2_5_3_CBORE_D / 2, HOLE_WIZARD_M2_5_3_CBORE_DEPTH, depth=HOLE_WIZARD_M2_5_3_DEPTH)
            with Locations((0, 0, -(HOLE_WIZARD_M2_5_3_DEPTH + HOLE_WIZARD_M2_5_3_TIP / 2))):  # 118° drill point
                Cone(0, HOLE_WIZARD_M2_5_3_D / 2, HOLE_WIZARD_M2_5_3_TIP, mode=Mode.SUBTRACT)

    # M2.5 丸平ねじ用座ぐり穴4
    with Locations(Plane(origin=(70, 0, 0), x_dir=(0, 0, -1), z_dir=(1, 0, 0))):
        with Locations((-4.9, -65), (7.1, -65)):
            CounterBoreHole(HOLE_WIZARD_M2_5_4_D / 2, HOLE_WIZARD_M2_5_4_CBORE_D / 2, HOLE_WIZARD_M2_5_4_CBORE_DEPTH, depth=HOLE_WIZARD_M2_5_4_DEPTH)
            with Locations((0, 0, -(HOLE_WIZARD_M2_5_4_DEPTH + HOLE_WIZARD_M2_5_4_TIP / 2))):  # 118° drill point
                Cone(0, HOLE_WIZARD_M2_5_4_D / 2, HOLE_WIZARD_M2_5_4_TIP, mode=Mode.SUBTRACT)

    # M2.5 丸平ねじ用座ぐり穴5
    with Locations(Plane(origin=(0, -70, 0), x_dir=(-1, 0, 0), z_dir=(0, -1, 0))):
        with Locations((30, 12.1), (-30, 12.1)):
            CounterBoreHole(HOLE_WIZARD_M2_5_5_D / 2, HOLE_WIZARD_M2_5_5_CBORE_D / 2, HOLE_WIZARD_M2_5_5_CBORE_DEPTH, depth=HOLE_WIZARD_M2_5_5_DEPTH)
            with Locations((0, 0, -(HOLE_WIZARD_M2_5_5_DEPTH + HOLE_WIZARD_M2_5_5_TIP / 2))):  # 118° drill point
                Cone(0, HOLE_WIZARD_M2_5_5_D / 2, HOLE_WIZARD_M2_5_5_TIP, mode=Mode.SUBTRACT)

    # M2.5 丸平ねじ用座ぐり穴6
    with Locations(Plane(origin=(70, 0, 0), x_dir=(0, 0, -1), z_dir=(1, 0, 0))):
        with Locations((12.1, 30), (12.1, -30)):
            CounterBoreHole(HOLE_WIZARD_M2_5_6_D / 2, HOLE_WIZARD_M2_5_6_CBORE_D / 2, HOLE_WIZARD_M2_5_6_CBORE_DEPTH, depth=HOLE_WIZARD_M2_5_6_DEPTH)
            with Locations((0, 0, -(HOLE_WIZARD_M2_5_6_DEPTH + HOLE_WIZARD_M2_5_6_TIP / 2))):  # 118° drill point
                Cone(0, HOLE_WIZARD_M2_5_6_D / 2, HOLE_WIZARD_M2_5_6_TIP, mode=Mode.SUBTRACT)

    # M2.5 丸平ねじ用座ぐり穴7
    with Locations(Plane(origin=(0, 70, 0), x_dir=(1, 0, 0), z_dir=(0, 1, 0))):
        with Locations((-30, 12.1), (30, 12.1)):
            CounterBoreHole(HOLE_WIZARD_M2_5_7_D / 2, HOLE_WIZARD_M2_5_7_CBORE_D / 2, HOLE_WIZARD_M2_5_7_CBORE_DEPTH, depth=HOLE_WIZARD_M2_5_7_DEPTH)
            with Locations((0, 0, -(HOLE_WIZARD_M2_5_7_DEPTH + HOLE_WIZARD_M2_5_7_TIP / 2))):  # 118° drill point
                Cone(0, HOLE_WIZARD_M2_5_7_D / 2, HOLE_WIZARD_M2_5_7_TIP, mode=Mode.SUBTRACT)

    # M2.5 丸平ねじ用座ぐり穴8
    with Locations(Plane.ZY.offset(70)):
        with Locations((-12.1, 30), (-12.1, -30)):
            CounterBoreHole(HOLE_WIZARD_M2_5_8_D / 2, HOLE_WIZARD_M2_5_8_CBORE_D / 2, HOLE_WIZARD_M2_5_8_CBORE_DEPTH, depth=HOLE_WIZARD_M2_5_8_DEPTH)
            with Locations((0, 0, -(HOLE_WIZARD_M2_5_8_DEPTH + HOLE_WIZARD_M2_5_8_TIP / 2))):  # 118° drill point
                Cone(0, HOLE_WIZARD_M2_5_8_D / 2, HOLE_WIZARD_M2_5_8_TIP, mode=Mode.SUBTRACT)

    # ｽｹｯﾁ44 → ﾎﾞｽ - 押し出し16 (add)
    # profile 1 of 4: a face of its own
    with BuildSketch(Plane.XY.offset(-2.5)):
        with Locations(Location((30, -30, 0), (0, 0, 180))):
            Circle(SKETCH_44_R)
        with Locations((30, -30)):
            Circle(SKETCH_44_R_2, mode=Mode.SUBTRACT)
    # profile 2 of 4: a face of its own
    with BuildSketch(Plane.XY.offset(-2.5)):
        with Locations(Location((-30, -30, 0), (0, 0, 180))):
            Circle(SKETCH_44_R)
        with Locations((-30, -30)):
            Circle(SKETCH_44_R_2, mode=Mode.SUBTRACT)
    # profile 3 of 4: a face of its own
    with BuildSketch(Plane.XY.offset(-2.5)):
        with Locations(Location((-30, 30, 0), (0, 0, 180))):
            Circle(SKETCH_44_R)
        with Locations((-30, 30)):
            Circle(SKETCH_44_R_2, mode=Mode.SUBTRACT)
    # profile 4 of 4: a face of its own
    with BuildSketch(Plane.XY.offset(-2.5)):
        with Locations(Location((30, 30, 0), (0, 0, 180))):
            Circle(SKETCH_44_R)
        with Locations((30, 30)):
            Circle(SKETCH_44_R_2, mode=Mode.SUBTRACT)
    extrude(amount=EXTRUDE_16_DEPTH)


solid = body_3.part
